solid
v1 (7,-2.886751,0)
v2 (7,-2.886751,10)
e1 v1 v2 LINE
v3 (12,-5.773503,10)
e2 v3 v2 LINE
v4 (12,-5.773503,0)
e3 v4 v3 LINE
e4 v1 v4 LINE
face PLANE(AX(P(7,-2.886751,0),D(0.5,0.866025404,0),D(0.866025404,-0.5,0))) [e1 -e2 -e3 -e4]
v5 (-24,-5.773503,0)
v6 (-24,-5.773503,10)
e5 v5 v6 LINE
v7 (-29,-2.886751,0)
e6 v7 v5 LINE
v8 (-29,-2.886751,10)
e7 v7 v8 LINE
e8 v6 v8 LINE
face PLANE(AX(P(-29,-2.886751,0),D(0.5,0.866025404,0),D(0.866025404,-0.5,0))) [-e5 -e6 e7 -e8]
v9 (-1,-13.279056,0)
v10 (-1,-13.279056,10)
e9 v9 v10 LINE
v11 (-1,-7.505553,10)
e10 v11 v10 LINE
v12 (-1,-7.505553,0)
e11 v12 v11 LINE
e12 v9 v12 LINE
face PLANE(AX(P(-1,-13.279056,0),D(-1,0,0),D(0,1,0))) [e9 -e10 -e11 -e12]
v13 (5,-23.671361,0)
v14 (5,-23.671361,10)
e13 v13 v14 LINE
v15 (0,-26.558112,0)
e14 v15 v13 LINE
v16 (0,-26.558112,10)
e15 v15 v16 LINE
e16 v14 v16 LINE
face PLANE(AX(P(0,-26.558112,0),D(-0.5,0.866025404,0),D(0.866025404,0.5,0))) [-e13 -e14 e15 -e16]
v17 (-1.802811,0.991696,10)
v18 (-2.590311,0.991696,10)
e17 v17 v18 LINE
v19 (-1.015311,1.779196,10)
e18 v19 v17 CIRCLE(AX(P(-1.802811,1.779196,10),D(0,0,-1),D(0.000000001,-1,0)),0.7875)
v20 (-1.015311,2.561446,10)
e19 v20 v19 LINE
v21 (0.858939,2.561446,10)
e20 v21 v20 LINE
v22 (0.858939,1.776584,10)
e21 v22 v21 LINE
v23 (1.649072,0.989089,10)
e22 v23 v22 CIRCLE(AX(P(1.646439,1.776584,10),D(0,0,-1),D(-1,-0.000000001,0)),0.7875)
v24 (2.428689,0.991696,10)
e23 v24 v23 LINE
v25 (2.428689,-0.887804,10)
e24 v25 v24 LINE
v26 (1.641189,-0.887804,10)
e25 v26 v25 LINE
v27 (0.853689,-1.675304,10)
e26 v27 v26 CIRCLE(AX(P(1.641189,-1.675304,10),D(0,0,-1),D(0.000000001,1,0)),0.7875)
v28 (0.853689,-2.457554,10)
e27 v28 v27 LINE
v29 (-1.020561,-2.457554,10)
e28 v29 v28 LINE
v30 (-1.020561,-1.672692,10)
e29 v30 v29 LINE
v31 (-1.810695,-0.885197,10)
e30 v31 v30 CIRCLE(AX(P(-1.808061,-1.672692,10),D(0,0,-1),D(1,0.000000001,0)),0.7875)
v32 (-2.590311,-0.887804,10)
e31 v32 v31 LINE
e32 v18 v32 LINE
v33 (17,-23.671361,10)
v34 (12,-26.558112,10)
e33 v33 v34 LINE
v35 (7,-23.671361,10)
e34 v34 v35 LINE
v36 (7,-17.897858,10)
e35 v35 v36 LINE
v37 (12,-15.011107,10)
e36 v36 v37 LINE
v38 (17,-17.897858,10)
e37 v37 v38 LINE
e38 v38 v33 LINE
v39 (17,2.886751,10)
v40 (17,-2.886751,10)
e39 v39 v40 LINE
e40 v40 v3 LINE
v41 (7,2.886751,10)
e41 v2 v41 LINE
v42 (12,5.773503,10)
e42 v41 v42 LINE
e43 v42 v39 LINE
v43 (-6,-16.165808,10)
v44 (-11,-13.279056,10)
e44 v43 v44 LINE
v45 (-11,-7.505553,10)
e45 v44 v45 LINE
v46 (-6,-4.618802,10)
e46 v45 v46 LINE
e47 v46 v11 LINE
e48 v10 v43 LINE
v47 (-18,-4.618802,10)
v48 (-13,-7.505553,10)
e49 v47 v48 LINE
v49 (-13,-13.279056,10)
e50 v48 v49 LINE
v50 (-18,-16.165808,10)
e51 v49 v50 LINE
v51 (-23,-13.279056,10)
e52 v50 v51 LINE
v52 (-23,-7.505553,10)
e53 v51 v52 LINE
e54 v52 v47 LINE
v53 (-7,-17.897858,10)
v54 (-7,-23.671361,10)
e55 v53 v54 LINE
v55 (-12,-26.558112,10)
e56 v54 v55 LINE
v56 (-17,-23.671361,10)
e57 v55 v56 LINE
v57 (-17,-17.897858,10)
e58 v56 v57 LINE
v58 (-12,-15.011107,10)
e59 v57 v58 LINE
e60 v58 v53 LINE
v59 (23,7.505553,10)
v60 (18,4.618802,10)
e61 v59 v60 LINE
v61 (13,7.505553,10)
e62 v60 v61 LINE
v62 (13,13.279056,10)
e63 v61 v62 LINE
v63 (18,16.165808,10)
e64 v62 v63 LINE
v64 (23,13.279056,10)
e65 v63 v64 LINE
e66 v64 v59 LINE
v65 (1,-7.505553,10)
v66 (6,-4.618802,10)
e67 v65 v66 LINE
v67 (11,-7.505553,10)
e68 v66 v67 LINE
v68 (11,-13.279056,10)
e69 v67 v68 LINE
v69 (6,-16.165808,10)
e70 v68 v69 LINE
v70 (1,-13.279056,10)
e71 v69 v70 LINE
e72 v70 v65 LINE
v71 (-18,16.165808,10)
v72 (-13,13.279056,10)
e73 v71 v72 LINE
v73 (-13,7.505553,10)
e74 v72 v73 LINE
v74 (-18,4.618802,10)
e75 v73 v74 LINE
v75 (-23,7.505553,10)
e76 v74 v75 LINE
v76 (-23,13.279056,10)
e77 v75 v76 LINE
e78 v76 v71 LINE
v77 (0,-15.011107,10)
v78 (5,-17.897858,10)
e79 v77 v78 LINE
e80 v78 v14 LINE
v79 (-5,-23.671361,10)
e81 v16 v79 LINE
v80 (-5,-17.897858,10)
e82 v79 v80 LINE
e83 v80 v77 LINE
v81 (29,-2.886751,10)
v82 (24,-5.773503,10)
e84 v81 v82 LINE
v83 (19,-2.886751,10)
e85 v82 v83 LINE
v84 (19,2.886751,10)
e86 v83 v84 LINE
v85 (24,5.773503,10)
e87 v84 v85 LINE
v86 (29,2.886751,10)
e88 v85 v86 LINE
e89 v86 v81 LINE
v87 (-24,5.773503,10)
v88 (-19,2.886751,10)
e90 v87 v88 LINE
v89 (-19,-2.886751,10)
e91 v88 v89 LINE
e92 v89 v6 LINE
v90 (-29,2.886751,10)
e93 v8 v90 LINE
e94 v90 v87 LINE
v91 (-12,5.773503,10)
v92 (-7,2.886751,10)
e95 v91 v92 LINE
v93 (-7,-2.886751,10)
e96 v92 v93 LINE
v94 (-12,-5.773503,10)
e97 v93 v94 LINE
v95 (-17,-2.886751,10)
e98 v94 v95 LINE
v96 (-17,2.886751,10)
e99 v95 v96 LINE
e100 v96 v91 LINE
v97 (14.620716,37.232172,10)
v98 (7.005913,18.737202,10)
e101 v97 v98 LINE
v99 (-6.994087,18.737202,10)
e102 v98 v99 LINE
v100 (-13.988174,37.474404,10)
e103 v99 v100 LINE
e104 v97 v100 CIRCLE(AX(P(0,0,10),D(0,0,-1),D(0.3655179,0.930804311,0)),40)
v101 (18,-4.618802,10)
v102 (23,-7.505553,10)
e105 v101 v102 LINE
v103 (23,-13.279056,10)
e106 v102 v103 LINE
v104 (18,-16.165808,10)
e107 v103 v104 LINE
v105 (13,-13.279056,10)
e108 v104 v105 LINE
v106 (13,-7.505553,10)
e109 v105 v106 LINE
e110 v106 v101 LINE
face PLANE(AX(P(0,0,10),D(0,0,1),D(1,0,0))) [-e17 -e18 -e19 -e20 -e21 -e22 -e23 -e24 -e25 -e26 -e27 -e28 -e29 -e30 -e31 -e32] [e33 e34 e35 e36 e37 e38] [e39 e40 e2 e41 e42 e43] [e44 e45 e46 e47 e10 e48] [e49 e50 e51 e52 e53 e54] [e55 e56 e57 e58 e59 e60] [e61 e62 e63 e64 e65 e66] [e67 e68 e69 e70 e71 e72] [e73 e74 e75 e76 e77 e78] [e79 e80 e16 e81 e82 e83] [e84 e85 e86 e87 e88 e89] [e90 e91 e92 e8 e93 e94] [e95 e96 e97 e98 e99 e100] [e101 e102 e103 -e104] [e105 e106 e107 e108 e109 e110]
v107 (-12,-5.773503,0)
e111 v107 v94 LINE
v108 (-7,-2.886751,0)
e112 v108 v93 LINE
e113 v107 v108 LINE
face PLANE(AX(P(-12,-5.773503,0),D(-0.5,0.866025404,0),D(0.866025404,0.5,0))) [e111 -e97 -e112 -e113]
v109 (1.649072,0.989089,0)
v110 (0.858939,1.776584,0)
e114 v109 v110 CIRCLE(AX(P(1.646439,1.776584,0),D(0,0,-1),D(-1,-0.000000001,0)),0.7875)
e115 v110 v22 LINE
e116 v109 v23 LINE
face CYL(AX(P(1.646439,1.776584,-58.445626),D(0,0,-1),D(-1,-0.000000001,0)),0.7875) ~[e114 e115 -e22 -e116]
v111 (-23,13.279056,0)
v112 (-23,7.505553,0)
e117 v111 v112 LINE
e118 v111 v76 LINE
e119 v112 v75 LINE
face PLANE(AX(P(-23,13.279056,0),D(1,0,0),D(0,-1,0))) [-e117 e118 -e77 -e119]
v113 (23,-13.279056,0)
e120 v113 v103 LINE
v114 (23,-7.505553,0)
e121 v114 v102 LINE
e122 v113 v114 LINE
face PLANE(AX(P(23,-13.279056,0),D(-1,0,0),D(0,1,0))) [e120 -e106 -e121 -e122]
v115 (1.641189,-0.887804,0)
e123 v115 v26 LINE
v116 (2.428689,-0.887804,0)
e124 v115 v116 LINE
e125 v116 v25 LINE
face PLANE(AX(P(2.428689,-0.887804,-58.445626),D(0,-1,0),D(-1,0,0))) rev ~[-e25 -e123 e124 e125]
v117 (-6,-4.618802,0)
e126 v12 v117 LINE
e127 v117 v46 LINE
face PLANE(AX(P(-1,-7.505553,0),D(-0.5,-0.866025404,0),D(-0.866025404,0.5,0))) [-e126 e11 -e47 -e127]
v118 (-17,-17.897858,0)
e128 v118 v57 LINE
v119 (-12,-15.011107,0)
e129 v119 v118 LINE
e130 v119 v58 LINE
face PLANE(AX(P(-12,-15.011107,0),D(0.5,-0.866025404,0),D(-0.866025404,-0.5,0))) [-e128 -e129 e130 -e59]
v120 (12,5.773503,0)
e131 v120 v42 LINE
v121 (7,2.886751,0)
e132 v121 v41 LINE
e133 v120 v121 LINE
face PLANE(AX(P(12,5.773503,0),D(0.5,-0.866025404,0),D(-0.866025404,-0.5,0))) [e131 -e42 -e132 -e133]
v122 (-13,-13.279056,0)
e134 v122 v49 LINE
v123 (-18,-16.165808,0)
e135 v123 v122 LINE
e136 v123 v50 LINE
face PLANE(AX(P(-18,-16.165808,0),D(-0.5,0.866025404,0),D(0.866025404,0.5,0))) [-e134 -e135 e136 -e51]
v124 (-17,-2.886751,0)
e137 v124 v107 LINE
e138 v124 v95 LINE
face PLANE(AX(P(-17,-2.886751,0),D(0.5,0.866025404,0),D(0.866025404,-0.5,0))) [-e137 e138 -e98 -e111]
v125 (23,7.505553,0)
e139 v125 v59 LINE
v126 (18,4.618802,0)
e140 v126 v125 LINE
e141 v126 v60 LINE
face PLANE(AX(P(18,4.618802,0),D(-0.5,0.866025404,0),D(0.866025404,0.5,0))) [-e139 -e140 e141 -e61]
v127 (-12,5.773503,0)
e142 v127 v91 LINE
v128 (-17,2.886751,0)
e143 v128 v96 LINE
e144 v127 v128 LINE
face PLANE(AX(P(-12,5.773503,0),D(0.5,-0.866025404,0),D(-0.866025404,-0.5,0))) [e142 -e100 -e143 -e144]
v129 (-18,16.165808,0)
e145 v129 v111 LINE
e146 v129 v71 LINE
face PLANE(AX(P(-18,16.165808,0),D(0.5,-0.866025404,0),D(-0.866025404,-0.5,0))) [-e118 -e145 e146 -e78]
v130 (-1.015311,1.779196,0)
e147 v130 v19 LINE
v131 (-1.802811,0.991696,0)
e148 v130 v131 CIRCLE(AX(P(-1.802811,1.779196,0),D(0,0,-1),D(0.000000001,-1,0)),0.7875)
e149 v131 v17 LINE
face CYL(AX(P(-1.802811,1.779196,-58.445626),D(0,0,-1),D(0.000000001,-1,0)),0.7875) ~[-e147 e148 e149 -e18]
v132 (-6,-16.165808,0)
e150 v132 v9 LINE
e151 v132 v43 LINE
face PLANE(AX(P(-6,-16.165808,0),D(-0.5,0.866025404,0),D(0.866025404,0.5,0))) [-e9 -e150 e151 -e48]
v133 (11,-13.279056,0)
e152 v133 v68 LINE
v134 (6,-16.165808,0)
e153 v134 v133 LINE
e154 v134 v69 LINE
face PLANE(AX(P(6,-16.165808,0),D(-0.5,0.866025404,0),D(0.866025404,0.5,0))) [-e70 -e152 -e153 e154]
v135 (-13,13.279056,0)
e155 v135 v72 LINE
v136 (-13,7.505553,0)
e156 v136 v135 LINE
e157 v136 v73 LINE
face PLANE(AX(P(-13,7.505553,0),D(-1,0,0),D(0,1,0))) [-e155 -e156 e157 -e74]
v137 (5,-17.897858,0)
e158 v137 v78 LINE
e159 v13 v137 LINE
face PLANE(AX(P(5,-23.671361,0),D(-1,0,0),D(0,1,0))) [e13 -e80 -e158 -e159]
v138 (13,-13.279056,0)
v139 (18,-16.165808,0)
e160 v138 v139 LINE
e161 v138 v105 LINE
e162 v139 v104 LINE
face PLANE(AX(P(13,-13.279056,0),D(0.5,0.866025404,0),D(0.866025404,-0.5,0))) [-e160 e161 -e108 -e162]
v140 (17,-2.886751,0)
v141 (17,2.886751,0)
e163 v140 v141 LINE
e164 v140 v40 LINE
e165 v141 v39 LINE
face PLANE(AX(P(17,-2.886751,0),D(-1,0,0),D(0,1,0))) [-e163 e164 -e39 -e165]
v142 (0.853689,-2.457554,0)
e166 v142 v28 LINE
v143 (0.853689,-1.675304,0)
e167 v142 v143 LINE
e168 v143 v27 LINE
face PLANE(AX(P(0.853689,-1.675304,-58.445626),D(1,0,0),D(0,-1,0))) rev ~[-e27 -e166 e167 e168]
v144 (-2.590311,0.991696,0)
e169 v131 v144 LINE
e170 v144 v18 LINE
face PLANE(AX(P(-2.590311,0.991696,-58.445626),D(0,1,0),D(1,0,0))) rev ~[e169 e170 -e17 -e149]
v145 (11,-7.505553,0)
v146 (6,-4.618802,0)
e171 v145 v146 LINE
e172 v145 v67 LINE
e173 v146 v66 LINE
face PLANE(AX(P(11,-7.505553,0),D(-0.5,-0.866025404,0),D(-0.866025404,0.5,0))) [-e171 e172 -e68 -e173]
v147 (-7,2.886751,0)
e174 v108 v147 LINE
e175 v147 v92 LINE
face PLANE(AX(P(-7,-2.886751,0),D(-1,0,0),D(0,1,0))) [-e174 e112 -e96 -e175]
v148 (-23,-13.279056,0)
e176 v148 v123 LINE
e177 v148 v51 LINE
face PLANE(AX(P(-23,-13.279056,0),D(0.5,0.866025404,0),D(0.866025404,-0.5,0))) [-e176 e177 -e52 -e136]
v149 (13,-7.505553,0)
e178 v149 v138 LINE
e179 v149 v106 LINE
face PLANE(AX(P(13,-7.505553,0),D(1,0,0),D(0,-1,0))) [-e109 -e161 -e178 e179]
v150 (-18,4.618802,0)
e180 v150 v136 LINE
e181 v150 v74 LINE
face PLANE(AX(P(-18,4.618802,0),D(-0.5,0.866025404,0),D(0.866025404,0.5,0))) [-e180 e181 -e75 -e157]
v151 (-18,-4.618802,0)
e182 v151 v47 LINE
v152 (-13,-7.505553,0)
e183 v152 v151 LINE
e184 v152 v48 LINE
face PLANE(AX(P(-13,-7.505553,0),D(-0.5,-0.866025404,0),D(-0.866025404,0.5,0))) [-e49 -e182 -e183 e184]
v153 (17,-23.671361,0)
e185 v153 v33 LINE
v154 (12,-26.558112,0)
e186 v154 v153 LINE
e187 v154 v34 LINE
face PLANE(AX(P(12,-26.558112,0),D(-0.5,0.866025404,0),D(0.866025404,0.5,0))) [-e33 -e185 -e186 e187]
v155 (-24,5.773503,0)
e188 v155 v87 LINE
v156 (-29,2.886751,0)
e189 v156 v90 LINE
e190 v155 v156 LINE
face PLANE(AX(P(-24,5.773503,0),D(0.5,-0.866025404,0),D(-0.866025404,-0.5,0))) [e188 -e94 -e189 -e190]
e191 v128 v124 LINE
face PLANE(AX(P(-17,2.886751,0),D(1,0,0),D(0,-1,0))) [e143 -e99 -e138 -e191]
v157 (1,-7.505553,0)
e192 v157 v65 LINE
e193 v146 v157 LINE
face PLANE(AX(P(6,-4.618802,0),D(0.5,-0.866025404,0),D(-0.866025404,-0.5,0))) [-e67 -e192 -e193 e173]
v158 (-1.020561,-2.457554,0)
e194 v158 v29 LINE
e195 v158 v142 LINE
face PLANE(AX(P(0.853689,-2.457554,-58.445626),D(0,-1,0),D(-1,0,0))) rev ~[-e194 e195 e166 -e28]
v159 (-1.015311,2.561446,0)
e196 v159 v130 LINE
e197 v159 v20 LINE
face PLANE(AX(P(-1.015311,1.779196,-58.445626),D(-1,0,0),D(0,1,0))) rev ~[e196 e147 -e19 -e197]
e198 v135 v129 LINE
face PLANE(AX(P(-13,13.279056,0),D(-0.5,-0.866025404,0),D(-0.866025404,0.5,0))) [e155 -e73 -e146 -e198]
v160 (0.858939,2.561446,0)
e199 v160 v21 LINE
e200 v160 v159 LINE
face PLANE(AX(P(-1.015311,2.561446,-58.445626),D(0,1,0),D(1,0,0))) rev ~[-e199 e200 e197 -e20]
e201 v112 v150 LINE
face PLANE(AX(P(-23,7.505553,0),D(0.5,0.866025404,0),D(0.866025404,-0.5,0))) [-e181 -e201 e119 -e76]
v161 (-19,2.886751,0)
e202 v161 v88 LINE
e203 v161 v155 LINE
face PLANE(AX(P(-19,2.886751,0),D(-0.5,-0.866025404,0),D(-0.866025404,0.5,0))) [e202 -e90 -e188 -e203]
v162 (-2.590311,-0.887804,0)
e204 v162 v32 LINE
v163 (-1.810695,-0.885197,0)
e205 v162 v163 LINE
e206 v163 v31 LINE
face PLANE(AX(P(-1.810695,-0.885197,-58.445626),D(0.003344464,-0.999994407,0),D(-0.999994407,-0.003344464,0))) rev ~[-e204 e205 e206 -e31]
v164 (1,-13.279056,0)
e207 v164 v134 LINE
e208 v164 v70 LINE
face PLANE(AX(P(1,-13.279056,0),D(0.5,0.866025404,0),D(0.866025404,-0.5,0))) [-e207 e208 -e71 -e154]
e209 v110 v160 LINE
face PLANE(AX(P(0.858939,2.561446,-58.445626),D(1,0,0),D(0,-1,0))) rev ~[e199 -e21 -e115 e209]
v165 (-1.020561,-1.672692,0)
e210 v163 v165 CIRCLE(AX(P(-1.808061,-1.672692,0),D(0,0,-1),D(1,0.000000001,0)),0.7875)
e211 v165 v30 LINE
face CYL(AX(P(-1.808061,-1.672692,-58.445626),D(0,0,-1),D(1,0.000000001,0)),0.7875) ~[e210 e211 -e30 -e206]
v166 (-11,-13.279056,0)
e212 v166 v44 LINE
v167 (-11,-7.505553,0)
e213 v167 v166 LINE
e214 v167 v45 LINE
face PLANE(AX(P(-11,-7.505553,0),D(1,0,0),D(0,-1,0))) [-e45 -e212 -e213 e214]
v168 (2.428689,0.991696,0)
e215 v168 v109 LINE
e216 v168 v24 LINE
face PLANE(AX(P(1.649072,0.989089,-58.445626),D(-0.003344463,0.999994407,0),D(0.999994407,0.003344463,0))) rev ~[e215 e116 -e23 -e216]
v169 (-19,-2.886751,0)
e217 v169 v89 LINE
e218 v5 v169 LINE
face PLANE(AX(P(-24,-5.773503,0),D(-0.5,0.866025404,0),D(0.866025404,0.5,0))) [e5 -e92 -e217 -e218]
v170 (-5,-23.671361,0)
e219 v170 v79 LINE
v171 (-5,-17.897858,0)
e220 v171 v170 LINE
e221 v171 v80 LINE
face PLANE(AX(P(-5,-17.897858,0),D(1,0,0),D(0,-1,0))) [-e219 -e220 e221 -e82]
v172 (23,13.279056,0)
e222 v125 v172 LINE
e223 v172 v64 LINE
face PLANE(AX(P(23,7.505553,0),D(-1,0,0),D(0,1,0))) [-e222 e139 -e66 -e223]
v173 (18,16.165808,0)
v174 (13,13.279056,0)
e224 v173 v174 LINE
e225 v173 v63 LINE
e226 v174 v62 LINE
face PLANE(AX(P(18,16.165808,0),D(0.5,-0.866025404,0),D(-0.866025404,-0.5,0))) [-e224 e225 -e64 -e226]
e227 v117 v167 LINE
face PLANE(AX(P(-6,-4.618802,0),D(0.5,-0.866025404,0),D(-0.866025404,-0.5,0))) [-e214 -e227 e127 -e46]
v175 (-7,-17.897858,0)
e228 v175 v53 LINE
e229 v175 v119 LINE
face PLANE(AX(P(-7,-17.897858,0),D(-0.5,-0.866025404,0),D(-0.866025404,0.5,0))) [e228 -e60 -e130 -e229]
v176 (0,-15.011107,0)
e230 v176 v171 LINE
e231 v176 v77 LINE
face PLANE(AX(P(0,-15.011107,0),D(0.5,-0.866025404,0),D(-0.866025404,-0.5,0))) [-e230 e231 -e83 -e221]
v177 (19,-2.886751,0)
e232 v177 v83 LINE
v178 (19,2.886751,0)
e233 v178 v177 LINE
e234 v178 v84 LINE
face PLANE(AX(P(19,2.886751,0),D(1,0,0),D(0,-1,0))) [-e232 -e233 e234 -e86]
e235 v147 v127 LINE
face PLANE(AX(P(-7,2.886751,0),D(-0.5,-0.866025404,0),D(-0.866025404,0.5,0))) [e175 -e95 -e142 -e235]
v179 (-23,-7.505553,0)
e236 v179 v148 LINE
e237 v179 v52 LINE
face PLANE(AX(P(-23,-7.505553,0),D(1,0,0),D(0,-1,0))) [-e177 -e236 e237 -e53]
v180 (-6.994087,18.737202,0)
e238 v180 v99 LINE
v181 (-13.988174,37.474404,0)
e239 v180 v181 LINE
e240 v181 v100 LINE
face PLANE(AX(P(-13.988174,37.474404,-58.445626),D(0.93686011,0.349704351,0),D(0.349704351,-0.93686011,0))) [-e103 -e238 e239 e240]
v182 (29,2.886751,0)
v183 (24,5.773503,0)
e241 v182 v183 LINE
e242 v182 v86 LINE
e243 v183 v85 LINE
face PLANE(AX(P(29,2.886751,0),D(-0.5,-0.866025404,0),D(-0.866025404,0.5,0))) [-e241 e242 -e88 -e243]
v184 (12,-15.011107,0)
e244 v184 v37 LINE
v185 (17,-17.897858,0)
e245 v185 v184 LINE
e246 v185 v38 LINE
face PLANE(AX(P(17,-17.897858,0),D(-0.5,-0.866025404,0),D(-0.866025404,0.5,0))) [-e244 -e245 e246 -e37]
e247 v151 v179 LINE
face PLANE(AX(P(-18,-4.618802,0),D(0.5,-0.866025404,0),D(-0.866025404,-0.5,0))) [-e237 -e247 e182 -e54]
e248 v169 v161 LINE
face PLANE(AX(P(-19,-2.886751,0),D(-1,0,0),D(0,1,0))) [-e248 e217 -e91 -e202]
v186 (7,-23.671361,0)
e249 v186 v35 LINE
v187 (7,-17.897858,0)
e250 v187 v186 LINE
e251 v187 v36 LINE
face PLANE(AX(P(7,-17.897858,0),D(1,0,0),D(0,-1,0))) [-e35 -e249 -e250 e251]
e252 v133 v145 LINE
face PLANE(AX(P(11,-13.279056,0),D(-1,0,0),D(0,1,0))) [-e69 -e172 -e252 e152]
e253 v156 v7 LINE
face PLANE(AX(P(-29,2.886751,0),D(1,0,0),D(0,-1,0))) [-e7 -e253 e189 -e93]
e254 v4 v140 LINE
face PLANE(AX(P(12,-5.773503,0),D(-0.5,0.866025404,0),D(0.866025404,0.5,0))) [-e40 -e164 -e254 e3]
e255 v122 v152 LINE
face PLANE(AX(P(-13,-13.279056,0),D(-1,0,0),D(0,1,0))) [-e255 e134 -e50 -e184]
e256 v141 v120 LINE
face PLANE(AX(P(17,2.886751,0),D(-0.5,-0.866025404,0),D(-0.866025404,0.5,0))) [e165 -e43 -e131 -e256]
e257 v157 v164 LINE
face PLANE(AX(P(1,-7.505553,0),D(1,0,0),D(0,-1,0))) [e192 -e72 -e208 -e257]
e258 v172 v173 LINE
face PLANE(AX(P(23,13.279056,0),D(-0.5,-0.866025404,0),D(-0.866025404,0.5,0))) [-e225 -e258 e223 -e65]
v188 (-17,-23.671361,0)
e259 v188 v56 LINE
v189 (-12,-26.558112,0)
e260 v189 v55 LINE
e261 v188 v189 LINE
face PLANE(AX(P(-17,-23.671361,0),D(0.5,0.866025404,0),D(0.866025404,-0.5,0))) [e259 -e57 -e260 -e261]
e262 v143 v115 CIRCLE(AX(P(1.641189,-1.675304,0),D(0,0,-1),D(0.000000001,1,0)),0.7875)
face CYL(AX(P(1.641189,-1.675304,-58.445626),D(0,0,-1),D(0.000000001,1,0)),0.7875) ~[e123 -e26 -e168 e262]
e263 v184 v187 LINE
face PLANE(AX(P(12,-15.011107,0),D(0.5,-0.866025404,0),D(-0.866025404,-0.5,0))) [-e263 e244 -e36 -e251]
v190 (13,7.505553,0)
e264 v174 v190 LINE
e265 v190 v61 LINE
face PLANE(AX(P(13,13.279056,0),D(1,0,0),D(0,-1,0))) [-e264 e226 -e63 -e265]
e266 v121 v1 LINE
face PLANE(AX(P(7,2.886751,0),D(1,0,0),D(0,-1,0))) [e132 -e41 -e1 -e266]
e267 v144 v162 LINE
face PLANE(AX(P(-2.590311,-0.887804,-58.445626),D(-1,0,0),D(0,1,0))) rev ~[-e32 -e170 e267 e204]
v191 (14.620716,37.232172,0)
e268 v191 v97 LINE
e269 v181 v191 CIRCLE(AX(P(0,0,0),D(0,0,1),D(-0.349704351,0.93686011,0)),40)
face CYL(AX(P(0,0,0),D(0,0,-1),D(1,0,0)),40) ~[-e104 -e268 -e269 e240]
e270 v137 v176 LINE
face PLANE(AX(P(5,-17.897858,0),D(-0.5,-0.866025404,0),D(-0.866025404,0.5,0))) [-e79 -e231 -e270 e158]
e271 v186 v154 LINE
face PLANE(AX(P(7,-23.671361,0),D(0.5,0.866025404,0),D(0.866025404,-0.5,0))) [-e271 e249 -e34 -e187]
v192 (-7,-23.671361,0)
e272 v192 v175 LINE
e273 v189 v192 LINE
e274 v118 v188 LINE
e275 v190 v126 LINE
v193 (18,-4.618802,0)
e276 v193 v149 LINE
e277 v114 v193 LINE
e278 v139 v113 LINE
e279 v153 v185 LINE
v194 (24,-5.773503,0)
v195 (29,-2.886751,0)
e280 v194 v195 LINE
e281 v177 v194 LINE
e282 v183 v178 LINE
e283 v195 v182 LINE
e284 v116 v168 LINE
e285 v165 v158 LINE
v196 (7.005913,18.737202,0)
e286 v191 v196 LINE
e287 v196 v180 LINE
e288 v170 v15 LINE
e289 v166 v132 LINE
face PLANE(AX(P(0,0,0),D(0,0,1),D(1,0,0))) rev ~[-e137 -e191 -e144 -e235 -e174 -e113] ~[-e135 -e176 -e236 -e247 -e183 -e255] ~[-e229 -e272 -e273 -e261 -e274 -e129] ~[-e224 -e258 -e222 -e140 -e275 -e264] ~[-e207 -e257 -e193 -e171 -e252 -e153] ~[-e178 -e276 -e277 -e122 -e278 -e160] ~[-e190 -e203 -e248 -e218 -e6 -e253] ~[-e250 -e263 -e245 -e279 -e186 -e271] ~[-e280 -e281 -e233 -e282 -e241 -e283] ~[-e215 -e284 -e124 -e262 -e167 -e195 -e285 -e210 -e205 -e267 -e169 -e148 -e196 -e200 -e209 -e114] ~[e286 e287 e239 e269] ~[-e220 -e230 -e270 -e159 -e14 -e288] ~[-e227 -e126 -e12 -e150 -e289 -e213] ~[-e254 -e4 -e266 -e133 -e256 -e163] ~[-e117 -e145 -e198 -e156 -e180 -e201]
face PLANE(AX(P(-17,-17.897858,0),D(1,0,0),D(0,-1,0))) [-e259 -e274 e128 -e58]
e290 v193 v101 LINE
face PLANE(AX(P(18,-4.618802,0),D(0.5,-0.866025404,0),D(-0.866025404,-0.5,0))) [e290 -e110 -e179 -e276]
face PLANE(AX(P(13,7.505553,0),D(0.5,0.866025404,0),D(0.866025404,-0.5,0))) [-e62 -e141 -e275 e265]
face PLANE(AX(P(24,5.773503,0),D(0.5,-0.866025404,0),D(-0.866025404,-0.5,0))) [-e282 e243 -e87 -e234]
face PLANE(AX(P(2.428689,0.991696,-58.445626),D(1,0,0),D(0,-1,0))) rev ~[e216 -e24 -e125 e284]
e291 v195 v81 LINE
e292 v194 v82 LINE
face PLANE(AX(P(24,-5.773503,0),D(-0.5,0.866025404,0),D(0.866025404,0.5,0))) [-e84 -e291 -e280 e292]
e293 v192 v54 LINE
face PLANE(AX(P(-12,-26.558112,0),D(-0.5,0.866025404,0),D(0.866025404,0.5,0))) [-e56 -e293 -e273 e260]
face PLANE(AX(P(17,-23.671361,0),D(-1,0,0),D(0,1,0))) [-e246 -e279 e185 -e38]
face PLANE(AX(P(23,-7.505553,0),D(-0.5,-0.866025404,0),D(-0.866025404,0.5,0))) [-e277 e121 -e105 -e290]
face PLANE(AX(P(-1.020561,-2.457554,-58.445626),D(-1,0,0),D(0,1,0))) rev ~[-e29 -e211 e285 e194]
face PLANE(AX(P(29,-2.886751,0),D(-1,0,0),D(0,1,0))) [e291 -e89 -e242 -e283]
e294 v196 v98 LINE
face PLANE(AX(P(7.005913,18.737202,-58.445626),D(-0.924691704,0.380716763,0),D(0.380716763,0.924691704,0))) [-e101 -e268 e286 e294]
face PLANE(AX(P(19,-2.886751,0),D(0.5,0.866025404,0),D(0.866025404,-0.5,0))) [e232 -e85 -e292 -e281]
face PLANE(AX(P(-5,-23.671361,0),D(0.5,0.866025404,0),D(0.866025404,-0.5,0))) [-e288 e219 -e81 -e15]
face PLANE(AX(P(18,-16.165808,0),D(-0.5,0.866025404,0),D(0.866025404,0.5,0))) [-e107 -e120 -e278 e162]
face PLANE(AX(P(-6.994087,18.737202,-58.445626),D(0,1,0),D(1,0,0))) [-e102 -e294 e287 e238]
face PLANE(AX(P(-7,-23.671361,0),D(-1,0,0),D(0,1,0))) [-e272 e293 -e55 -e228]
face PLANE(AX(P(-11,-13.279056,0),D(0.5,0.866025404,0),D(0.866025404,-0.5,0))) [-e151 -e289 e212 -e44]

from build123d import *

# Parameters (mm, degrees)
SKETCH1_R                = 40
BOSS_EXTRUDE1_DEPTH      = 10
CUT_EXTRUDE8_DEPTH       = 99
CUT_EXTRUDE9_DEPTH       = 58.445626465
CUT_EXTRUDE9_DEPTH_BACK  = 58.445626465
CUT_EXTRUDE10_DEPTH      = 23
CUT_EXTRUDE10_DEPTH_BACK = 58.445626465


with BuildPart() as part:
    # Sketch1 → Boss-Extrude1 (new body)
    with BuildSketch(Plane.XY):
        Circle(SKETCH1_R)
    extrude(amount=BOSS_EXTRUDE1_DEPTH)

    # Sketch1<10> → Cut-Extrude8 (cut)
    with BuildSketch(Plane.XY):
        Polygon((17, 2.886751346), (12, 5.773502692), (7, 2.886751346), (7, -2.886751346), (12, -5.773502692), (17, -2.886751346), align=None)
        Polygon((29, 2.886751346), (24, 5.773502692), (19, 2.886751346), (19, -2.886751346), (24, -5.773502692), (29, -2.886751346), align=None)
        Polygon((-7, 2.886751346), (-12, 5.773502692), (-17, 2.886751346), (-17, -2.886751346), (-12, -5.773502692), (-7, -2.886751346), align=None)
        Polygon((-19, 2.886751346), (-24, 5.773502692), (-29, 2.886751346), (-29, -2.886751346), (-24, -5.773502692), (-19, -2.886751346), align=None)
        Polygon((-13, 13.279056191), (-18, 16.165807537), (-23, 13.279056191), (-23, 7.505553499), (-18, 4.618802154), (-13, 7.505553499), align=None)
        Polygon((23, 7.505553499), (23, 13.279056191), (18, 16.165807537), (13, 13.279056191), (13, 7.505553499), (18, 4.618802154), align=None)
        Polygon((-13, -13.279056191), (-13, -7.505553499), (-18, -4.618802154), (-23, -7.505553499), (-23, -13.279056191), (-18, -16.165807537), align=None)
        Polygon((-11, -13.279056191), (-6, -16.165807537), (-1, -13.279056191), (-1, -7.505553499), (-6, -4.618802154), (-11, -7.505553499), align=None)
        Polygon((6, -16.165807537), (11, -13.279056191), (11, -7.505553499), (6, -4.618802154), (1, -7.505553499), (1, -13.279056191), align=None)
        Polygon((13, -7.505553499), (13, -13.279056191), (18, -16.165807537), (23, -13.279056191), (23, -7.505553499), (18, -4.618802154), align=None)
        Polygon((-17, -23.671361037), (-12, -26.558112383), (-7, -23.671361037), (-7, -17.897858345), (-12, -15.011106999), (-17, -17.897858345), align=None)
        Polygon((0, -26.558112383), (5, -23.671361037), (5, -17.897858345), (0, -15.011106999), (-5, -17.897858345), (-5, -23.671361037), align=None)
        Polygon((7, -17.897858345), (7, -23.671361037), (12, -26.558112383), (17, -23.671361037), (17, -17.897858345), (12, -15.011106999), align=None)
    extrude(amount=CUT_EXTRUDE8_DEPTH, mode=Mode.SUBTRACT)

    # Sketch1<11> → Cut-Extrude9 (cut, two sides: drawn at the far end of the back side and taken through both)
    with BuildSketch(Plane.XY.offset(-CUT_EXTRUDE9_DEPTH_BACK)):
        with BuildLine():
            Line((-6.994087027, 18.73720221), (0, 18.73720221))
            Line((0, 18.73720221), (7.005912973, 18.73720221))
            Line((7.005912973, 18.73720221), (14.620716001, 37.232172427))
            ThreePointArc((14.620716001, 37.232172427), (0.338668589, 39.998566269), (-13.988174054, 37.47440442))
            Line((-13.988174054, 37.47440442), (-6.994087027, 18.73720221))
        make_face()
    extrude(amount=CUT_EXTRUDE9_DEPTH + CUT_EXTRUDE9_DEPTH_BACK, mode=Mode.SUBTRACT)

    # Sketch1<13> → Cut-Extrude10 (cut, two sides: drawn at the far end of the back side and taken through both)
    with BuildSketch(Plane.XY.offset(-CUT_EXTRUDE10_DEPTH_BACK)):
        with BuildLine():
            Line((0.853688676, -2.457553929), (-1.020561324, -2.457553929))
            Line((-1.020561324, -2.457553929), (-1.020561324, -1.672692112))
            ThreePointArc((-1.020561324, -1.672692112), (-1.25214669, -1.114915123), (-1.810695088, -0.885196516))
            Line((-1.810695088, -0.885196516), (-2.590311324, -0.887803929))
            Line((-2.590311324, -0.887803929), (-2.590311324, 0.991696071))
            Line((-2.590311324, 0.991696071), (-1.802811324, 0.991696071))
            ThreePointArc((-1.802811324, 0.991696071), (-1.245964734, 1.222349481), (-1.015311324, 1.779196071))
            Line((-1.015311324, 1.779196071), (-1.015311324, 2.561446071))
            Line((-1.015311324, 2.561446071), (0.858938676, 2.561446071))
            Line((0.858938676, 2.561446071), (0.858938676, 1.776584255))
            ThreePointArc((0.858938676, 1.776584255), (1.090524042, 1.218807266), (1.649072441, 0.989088659))
            Line((1.649072441, 0.989088659), (2.428688676, 0.991696071))
            Line((2.428688676, 0.991696071), (2.428688676, -0.887803929))
            Line((2.428688676, -0.887803929), (1.641188676, -0.887803929))
            ThreePointArc((1.641188676, -0.887803929), (1.084342086, -1.118457338), (0.853688676, -1.675303929))
            Line((0.853688676, -1.675303929), (0.853688676, -2.457553929))
        make_face()
    extrude(amount=CUT_EXTRUDE10_DEPTH + CUT_EXTRUDE10_DEPTH_BACK, mode=Mode.SUBTRACT)


solid = part.part
